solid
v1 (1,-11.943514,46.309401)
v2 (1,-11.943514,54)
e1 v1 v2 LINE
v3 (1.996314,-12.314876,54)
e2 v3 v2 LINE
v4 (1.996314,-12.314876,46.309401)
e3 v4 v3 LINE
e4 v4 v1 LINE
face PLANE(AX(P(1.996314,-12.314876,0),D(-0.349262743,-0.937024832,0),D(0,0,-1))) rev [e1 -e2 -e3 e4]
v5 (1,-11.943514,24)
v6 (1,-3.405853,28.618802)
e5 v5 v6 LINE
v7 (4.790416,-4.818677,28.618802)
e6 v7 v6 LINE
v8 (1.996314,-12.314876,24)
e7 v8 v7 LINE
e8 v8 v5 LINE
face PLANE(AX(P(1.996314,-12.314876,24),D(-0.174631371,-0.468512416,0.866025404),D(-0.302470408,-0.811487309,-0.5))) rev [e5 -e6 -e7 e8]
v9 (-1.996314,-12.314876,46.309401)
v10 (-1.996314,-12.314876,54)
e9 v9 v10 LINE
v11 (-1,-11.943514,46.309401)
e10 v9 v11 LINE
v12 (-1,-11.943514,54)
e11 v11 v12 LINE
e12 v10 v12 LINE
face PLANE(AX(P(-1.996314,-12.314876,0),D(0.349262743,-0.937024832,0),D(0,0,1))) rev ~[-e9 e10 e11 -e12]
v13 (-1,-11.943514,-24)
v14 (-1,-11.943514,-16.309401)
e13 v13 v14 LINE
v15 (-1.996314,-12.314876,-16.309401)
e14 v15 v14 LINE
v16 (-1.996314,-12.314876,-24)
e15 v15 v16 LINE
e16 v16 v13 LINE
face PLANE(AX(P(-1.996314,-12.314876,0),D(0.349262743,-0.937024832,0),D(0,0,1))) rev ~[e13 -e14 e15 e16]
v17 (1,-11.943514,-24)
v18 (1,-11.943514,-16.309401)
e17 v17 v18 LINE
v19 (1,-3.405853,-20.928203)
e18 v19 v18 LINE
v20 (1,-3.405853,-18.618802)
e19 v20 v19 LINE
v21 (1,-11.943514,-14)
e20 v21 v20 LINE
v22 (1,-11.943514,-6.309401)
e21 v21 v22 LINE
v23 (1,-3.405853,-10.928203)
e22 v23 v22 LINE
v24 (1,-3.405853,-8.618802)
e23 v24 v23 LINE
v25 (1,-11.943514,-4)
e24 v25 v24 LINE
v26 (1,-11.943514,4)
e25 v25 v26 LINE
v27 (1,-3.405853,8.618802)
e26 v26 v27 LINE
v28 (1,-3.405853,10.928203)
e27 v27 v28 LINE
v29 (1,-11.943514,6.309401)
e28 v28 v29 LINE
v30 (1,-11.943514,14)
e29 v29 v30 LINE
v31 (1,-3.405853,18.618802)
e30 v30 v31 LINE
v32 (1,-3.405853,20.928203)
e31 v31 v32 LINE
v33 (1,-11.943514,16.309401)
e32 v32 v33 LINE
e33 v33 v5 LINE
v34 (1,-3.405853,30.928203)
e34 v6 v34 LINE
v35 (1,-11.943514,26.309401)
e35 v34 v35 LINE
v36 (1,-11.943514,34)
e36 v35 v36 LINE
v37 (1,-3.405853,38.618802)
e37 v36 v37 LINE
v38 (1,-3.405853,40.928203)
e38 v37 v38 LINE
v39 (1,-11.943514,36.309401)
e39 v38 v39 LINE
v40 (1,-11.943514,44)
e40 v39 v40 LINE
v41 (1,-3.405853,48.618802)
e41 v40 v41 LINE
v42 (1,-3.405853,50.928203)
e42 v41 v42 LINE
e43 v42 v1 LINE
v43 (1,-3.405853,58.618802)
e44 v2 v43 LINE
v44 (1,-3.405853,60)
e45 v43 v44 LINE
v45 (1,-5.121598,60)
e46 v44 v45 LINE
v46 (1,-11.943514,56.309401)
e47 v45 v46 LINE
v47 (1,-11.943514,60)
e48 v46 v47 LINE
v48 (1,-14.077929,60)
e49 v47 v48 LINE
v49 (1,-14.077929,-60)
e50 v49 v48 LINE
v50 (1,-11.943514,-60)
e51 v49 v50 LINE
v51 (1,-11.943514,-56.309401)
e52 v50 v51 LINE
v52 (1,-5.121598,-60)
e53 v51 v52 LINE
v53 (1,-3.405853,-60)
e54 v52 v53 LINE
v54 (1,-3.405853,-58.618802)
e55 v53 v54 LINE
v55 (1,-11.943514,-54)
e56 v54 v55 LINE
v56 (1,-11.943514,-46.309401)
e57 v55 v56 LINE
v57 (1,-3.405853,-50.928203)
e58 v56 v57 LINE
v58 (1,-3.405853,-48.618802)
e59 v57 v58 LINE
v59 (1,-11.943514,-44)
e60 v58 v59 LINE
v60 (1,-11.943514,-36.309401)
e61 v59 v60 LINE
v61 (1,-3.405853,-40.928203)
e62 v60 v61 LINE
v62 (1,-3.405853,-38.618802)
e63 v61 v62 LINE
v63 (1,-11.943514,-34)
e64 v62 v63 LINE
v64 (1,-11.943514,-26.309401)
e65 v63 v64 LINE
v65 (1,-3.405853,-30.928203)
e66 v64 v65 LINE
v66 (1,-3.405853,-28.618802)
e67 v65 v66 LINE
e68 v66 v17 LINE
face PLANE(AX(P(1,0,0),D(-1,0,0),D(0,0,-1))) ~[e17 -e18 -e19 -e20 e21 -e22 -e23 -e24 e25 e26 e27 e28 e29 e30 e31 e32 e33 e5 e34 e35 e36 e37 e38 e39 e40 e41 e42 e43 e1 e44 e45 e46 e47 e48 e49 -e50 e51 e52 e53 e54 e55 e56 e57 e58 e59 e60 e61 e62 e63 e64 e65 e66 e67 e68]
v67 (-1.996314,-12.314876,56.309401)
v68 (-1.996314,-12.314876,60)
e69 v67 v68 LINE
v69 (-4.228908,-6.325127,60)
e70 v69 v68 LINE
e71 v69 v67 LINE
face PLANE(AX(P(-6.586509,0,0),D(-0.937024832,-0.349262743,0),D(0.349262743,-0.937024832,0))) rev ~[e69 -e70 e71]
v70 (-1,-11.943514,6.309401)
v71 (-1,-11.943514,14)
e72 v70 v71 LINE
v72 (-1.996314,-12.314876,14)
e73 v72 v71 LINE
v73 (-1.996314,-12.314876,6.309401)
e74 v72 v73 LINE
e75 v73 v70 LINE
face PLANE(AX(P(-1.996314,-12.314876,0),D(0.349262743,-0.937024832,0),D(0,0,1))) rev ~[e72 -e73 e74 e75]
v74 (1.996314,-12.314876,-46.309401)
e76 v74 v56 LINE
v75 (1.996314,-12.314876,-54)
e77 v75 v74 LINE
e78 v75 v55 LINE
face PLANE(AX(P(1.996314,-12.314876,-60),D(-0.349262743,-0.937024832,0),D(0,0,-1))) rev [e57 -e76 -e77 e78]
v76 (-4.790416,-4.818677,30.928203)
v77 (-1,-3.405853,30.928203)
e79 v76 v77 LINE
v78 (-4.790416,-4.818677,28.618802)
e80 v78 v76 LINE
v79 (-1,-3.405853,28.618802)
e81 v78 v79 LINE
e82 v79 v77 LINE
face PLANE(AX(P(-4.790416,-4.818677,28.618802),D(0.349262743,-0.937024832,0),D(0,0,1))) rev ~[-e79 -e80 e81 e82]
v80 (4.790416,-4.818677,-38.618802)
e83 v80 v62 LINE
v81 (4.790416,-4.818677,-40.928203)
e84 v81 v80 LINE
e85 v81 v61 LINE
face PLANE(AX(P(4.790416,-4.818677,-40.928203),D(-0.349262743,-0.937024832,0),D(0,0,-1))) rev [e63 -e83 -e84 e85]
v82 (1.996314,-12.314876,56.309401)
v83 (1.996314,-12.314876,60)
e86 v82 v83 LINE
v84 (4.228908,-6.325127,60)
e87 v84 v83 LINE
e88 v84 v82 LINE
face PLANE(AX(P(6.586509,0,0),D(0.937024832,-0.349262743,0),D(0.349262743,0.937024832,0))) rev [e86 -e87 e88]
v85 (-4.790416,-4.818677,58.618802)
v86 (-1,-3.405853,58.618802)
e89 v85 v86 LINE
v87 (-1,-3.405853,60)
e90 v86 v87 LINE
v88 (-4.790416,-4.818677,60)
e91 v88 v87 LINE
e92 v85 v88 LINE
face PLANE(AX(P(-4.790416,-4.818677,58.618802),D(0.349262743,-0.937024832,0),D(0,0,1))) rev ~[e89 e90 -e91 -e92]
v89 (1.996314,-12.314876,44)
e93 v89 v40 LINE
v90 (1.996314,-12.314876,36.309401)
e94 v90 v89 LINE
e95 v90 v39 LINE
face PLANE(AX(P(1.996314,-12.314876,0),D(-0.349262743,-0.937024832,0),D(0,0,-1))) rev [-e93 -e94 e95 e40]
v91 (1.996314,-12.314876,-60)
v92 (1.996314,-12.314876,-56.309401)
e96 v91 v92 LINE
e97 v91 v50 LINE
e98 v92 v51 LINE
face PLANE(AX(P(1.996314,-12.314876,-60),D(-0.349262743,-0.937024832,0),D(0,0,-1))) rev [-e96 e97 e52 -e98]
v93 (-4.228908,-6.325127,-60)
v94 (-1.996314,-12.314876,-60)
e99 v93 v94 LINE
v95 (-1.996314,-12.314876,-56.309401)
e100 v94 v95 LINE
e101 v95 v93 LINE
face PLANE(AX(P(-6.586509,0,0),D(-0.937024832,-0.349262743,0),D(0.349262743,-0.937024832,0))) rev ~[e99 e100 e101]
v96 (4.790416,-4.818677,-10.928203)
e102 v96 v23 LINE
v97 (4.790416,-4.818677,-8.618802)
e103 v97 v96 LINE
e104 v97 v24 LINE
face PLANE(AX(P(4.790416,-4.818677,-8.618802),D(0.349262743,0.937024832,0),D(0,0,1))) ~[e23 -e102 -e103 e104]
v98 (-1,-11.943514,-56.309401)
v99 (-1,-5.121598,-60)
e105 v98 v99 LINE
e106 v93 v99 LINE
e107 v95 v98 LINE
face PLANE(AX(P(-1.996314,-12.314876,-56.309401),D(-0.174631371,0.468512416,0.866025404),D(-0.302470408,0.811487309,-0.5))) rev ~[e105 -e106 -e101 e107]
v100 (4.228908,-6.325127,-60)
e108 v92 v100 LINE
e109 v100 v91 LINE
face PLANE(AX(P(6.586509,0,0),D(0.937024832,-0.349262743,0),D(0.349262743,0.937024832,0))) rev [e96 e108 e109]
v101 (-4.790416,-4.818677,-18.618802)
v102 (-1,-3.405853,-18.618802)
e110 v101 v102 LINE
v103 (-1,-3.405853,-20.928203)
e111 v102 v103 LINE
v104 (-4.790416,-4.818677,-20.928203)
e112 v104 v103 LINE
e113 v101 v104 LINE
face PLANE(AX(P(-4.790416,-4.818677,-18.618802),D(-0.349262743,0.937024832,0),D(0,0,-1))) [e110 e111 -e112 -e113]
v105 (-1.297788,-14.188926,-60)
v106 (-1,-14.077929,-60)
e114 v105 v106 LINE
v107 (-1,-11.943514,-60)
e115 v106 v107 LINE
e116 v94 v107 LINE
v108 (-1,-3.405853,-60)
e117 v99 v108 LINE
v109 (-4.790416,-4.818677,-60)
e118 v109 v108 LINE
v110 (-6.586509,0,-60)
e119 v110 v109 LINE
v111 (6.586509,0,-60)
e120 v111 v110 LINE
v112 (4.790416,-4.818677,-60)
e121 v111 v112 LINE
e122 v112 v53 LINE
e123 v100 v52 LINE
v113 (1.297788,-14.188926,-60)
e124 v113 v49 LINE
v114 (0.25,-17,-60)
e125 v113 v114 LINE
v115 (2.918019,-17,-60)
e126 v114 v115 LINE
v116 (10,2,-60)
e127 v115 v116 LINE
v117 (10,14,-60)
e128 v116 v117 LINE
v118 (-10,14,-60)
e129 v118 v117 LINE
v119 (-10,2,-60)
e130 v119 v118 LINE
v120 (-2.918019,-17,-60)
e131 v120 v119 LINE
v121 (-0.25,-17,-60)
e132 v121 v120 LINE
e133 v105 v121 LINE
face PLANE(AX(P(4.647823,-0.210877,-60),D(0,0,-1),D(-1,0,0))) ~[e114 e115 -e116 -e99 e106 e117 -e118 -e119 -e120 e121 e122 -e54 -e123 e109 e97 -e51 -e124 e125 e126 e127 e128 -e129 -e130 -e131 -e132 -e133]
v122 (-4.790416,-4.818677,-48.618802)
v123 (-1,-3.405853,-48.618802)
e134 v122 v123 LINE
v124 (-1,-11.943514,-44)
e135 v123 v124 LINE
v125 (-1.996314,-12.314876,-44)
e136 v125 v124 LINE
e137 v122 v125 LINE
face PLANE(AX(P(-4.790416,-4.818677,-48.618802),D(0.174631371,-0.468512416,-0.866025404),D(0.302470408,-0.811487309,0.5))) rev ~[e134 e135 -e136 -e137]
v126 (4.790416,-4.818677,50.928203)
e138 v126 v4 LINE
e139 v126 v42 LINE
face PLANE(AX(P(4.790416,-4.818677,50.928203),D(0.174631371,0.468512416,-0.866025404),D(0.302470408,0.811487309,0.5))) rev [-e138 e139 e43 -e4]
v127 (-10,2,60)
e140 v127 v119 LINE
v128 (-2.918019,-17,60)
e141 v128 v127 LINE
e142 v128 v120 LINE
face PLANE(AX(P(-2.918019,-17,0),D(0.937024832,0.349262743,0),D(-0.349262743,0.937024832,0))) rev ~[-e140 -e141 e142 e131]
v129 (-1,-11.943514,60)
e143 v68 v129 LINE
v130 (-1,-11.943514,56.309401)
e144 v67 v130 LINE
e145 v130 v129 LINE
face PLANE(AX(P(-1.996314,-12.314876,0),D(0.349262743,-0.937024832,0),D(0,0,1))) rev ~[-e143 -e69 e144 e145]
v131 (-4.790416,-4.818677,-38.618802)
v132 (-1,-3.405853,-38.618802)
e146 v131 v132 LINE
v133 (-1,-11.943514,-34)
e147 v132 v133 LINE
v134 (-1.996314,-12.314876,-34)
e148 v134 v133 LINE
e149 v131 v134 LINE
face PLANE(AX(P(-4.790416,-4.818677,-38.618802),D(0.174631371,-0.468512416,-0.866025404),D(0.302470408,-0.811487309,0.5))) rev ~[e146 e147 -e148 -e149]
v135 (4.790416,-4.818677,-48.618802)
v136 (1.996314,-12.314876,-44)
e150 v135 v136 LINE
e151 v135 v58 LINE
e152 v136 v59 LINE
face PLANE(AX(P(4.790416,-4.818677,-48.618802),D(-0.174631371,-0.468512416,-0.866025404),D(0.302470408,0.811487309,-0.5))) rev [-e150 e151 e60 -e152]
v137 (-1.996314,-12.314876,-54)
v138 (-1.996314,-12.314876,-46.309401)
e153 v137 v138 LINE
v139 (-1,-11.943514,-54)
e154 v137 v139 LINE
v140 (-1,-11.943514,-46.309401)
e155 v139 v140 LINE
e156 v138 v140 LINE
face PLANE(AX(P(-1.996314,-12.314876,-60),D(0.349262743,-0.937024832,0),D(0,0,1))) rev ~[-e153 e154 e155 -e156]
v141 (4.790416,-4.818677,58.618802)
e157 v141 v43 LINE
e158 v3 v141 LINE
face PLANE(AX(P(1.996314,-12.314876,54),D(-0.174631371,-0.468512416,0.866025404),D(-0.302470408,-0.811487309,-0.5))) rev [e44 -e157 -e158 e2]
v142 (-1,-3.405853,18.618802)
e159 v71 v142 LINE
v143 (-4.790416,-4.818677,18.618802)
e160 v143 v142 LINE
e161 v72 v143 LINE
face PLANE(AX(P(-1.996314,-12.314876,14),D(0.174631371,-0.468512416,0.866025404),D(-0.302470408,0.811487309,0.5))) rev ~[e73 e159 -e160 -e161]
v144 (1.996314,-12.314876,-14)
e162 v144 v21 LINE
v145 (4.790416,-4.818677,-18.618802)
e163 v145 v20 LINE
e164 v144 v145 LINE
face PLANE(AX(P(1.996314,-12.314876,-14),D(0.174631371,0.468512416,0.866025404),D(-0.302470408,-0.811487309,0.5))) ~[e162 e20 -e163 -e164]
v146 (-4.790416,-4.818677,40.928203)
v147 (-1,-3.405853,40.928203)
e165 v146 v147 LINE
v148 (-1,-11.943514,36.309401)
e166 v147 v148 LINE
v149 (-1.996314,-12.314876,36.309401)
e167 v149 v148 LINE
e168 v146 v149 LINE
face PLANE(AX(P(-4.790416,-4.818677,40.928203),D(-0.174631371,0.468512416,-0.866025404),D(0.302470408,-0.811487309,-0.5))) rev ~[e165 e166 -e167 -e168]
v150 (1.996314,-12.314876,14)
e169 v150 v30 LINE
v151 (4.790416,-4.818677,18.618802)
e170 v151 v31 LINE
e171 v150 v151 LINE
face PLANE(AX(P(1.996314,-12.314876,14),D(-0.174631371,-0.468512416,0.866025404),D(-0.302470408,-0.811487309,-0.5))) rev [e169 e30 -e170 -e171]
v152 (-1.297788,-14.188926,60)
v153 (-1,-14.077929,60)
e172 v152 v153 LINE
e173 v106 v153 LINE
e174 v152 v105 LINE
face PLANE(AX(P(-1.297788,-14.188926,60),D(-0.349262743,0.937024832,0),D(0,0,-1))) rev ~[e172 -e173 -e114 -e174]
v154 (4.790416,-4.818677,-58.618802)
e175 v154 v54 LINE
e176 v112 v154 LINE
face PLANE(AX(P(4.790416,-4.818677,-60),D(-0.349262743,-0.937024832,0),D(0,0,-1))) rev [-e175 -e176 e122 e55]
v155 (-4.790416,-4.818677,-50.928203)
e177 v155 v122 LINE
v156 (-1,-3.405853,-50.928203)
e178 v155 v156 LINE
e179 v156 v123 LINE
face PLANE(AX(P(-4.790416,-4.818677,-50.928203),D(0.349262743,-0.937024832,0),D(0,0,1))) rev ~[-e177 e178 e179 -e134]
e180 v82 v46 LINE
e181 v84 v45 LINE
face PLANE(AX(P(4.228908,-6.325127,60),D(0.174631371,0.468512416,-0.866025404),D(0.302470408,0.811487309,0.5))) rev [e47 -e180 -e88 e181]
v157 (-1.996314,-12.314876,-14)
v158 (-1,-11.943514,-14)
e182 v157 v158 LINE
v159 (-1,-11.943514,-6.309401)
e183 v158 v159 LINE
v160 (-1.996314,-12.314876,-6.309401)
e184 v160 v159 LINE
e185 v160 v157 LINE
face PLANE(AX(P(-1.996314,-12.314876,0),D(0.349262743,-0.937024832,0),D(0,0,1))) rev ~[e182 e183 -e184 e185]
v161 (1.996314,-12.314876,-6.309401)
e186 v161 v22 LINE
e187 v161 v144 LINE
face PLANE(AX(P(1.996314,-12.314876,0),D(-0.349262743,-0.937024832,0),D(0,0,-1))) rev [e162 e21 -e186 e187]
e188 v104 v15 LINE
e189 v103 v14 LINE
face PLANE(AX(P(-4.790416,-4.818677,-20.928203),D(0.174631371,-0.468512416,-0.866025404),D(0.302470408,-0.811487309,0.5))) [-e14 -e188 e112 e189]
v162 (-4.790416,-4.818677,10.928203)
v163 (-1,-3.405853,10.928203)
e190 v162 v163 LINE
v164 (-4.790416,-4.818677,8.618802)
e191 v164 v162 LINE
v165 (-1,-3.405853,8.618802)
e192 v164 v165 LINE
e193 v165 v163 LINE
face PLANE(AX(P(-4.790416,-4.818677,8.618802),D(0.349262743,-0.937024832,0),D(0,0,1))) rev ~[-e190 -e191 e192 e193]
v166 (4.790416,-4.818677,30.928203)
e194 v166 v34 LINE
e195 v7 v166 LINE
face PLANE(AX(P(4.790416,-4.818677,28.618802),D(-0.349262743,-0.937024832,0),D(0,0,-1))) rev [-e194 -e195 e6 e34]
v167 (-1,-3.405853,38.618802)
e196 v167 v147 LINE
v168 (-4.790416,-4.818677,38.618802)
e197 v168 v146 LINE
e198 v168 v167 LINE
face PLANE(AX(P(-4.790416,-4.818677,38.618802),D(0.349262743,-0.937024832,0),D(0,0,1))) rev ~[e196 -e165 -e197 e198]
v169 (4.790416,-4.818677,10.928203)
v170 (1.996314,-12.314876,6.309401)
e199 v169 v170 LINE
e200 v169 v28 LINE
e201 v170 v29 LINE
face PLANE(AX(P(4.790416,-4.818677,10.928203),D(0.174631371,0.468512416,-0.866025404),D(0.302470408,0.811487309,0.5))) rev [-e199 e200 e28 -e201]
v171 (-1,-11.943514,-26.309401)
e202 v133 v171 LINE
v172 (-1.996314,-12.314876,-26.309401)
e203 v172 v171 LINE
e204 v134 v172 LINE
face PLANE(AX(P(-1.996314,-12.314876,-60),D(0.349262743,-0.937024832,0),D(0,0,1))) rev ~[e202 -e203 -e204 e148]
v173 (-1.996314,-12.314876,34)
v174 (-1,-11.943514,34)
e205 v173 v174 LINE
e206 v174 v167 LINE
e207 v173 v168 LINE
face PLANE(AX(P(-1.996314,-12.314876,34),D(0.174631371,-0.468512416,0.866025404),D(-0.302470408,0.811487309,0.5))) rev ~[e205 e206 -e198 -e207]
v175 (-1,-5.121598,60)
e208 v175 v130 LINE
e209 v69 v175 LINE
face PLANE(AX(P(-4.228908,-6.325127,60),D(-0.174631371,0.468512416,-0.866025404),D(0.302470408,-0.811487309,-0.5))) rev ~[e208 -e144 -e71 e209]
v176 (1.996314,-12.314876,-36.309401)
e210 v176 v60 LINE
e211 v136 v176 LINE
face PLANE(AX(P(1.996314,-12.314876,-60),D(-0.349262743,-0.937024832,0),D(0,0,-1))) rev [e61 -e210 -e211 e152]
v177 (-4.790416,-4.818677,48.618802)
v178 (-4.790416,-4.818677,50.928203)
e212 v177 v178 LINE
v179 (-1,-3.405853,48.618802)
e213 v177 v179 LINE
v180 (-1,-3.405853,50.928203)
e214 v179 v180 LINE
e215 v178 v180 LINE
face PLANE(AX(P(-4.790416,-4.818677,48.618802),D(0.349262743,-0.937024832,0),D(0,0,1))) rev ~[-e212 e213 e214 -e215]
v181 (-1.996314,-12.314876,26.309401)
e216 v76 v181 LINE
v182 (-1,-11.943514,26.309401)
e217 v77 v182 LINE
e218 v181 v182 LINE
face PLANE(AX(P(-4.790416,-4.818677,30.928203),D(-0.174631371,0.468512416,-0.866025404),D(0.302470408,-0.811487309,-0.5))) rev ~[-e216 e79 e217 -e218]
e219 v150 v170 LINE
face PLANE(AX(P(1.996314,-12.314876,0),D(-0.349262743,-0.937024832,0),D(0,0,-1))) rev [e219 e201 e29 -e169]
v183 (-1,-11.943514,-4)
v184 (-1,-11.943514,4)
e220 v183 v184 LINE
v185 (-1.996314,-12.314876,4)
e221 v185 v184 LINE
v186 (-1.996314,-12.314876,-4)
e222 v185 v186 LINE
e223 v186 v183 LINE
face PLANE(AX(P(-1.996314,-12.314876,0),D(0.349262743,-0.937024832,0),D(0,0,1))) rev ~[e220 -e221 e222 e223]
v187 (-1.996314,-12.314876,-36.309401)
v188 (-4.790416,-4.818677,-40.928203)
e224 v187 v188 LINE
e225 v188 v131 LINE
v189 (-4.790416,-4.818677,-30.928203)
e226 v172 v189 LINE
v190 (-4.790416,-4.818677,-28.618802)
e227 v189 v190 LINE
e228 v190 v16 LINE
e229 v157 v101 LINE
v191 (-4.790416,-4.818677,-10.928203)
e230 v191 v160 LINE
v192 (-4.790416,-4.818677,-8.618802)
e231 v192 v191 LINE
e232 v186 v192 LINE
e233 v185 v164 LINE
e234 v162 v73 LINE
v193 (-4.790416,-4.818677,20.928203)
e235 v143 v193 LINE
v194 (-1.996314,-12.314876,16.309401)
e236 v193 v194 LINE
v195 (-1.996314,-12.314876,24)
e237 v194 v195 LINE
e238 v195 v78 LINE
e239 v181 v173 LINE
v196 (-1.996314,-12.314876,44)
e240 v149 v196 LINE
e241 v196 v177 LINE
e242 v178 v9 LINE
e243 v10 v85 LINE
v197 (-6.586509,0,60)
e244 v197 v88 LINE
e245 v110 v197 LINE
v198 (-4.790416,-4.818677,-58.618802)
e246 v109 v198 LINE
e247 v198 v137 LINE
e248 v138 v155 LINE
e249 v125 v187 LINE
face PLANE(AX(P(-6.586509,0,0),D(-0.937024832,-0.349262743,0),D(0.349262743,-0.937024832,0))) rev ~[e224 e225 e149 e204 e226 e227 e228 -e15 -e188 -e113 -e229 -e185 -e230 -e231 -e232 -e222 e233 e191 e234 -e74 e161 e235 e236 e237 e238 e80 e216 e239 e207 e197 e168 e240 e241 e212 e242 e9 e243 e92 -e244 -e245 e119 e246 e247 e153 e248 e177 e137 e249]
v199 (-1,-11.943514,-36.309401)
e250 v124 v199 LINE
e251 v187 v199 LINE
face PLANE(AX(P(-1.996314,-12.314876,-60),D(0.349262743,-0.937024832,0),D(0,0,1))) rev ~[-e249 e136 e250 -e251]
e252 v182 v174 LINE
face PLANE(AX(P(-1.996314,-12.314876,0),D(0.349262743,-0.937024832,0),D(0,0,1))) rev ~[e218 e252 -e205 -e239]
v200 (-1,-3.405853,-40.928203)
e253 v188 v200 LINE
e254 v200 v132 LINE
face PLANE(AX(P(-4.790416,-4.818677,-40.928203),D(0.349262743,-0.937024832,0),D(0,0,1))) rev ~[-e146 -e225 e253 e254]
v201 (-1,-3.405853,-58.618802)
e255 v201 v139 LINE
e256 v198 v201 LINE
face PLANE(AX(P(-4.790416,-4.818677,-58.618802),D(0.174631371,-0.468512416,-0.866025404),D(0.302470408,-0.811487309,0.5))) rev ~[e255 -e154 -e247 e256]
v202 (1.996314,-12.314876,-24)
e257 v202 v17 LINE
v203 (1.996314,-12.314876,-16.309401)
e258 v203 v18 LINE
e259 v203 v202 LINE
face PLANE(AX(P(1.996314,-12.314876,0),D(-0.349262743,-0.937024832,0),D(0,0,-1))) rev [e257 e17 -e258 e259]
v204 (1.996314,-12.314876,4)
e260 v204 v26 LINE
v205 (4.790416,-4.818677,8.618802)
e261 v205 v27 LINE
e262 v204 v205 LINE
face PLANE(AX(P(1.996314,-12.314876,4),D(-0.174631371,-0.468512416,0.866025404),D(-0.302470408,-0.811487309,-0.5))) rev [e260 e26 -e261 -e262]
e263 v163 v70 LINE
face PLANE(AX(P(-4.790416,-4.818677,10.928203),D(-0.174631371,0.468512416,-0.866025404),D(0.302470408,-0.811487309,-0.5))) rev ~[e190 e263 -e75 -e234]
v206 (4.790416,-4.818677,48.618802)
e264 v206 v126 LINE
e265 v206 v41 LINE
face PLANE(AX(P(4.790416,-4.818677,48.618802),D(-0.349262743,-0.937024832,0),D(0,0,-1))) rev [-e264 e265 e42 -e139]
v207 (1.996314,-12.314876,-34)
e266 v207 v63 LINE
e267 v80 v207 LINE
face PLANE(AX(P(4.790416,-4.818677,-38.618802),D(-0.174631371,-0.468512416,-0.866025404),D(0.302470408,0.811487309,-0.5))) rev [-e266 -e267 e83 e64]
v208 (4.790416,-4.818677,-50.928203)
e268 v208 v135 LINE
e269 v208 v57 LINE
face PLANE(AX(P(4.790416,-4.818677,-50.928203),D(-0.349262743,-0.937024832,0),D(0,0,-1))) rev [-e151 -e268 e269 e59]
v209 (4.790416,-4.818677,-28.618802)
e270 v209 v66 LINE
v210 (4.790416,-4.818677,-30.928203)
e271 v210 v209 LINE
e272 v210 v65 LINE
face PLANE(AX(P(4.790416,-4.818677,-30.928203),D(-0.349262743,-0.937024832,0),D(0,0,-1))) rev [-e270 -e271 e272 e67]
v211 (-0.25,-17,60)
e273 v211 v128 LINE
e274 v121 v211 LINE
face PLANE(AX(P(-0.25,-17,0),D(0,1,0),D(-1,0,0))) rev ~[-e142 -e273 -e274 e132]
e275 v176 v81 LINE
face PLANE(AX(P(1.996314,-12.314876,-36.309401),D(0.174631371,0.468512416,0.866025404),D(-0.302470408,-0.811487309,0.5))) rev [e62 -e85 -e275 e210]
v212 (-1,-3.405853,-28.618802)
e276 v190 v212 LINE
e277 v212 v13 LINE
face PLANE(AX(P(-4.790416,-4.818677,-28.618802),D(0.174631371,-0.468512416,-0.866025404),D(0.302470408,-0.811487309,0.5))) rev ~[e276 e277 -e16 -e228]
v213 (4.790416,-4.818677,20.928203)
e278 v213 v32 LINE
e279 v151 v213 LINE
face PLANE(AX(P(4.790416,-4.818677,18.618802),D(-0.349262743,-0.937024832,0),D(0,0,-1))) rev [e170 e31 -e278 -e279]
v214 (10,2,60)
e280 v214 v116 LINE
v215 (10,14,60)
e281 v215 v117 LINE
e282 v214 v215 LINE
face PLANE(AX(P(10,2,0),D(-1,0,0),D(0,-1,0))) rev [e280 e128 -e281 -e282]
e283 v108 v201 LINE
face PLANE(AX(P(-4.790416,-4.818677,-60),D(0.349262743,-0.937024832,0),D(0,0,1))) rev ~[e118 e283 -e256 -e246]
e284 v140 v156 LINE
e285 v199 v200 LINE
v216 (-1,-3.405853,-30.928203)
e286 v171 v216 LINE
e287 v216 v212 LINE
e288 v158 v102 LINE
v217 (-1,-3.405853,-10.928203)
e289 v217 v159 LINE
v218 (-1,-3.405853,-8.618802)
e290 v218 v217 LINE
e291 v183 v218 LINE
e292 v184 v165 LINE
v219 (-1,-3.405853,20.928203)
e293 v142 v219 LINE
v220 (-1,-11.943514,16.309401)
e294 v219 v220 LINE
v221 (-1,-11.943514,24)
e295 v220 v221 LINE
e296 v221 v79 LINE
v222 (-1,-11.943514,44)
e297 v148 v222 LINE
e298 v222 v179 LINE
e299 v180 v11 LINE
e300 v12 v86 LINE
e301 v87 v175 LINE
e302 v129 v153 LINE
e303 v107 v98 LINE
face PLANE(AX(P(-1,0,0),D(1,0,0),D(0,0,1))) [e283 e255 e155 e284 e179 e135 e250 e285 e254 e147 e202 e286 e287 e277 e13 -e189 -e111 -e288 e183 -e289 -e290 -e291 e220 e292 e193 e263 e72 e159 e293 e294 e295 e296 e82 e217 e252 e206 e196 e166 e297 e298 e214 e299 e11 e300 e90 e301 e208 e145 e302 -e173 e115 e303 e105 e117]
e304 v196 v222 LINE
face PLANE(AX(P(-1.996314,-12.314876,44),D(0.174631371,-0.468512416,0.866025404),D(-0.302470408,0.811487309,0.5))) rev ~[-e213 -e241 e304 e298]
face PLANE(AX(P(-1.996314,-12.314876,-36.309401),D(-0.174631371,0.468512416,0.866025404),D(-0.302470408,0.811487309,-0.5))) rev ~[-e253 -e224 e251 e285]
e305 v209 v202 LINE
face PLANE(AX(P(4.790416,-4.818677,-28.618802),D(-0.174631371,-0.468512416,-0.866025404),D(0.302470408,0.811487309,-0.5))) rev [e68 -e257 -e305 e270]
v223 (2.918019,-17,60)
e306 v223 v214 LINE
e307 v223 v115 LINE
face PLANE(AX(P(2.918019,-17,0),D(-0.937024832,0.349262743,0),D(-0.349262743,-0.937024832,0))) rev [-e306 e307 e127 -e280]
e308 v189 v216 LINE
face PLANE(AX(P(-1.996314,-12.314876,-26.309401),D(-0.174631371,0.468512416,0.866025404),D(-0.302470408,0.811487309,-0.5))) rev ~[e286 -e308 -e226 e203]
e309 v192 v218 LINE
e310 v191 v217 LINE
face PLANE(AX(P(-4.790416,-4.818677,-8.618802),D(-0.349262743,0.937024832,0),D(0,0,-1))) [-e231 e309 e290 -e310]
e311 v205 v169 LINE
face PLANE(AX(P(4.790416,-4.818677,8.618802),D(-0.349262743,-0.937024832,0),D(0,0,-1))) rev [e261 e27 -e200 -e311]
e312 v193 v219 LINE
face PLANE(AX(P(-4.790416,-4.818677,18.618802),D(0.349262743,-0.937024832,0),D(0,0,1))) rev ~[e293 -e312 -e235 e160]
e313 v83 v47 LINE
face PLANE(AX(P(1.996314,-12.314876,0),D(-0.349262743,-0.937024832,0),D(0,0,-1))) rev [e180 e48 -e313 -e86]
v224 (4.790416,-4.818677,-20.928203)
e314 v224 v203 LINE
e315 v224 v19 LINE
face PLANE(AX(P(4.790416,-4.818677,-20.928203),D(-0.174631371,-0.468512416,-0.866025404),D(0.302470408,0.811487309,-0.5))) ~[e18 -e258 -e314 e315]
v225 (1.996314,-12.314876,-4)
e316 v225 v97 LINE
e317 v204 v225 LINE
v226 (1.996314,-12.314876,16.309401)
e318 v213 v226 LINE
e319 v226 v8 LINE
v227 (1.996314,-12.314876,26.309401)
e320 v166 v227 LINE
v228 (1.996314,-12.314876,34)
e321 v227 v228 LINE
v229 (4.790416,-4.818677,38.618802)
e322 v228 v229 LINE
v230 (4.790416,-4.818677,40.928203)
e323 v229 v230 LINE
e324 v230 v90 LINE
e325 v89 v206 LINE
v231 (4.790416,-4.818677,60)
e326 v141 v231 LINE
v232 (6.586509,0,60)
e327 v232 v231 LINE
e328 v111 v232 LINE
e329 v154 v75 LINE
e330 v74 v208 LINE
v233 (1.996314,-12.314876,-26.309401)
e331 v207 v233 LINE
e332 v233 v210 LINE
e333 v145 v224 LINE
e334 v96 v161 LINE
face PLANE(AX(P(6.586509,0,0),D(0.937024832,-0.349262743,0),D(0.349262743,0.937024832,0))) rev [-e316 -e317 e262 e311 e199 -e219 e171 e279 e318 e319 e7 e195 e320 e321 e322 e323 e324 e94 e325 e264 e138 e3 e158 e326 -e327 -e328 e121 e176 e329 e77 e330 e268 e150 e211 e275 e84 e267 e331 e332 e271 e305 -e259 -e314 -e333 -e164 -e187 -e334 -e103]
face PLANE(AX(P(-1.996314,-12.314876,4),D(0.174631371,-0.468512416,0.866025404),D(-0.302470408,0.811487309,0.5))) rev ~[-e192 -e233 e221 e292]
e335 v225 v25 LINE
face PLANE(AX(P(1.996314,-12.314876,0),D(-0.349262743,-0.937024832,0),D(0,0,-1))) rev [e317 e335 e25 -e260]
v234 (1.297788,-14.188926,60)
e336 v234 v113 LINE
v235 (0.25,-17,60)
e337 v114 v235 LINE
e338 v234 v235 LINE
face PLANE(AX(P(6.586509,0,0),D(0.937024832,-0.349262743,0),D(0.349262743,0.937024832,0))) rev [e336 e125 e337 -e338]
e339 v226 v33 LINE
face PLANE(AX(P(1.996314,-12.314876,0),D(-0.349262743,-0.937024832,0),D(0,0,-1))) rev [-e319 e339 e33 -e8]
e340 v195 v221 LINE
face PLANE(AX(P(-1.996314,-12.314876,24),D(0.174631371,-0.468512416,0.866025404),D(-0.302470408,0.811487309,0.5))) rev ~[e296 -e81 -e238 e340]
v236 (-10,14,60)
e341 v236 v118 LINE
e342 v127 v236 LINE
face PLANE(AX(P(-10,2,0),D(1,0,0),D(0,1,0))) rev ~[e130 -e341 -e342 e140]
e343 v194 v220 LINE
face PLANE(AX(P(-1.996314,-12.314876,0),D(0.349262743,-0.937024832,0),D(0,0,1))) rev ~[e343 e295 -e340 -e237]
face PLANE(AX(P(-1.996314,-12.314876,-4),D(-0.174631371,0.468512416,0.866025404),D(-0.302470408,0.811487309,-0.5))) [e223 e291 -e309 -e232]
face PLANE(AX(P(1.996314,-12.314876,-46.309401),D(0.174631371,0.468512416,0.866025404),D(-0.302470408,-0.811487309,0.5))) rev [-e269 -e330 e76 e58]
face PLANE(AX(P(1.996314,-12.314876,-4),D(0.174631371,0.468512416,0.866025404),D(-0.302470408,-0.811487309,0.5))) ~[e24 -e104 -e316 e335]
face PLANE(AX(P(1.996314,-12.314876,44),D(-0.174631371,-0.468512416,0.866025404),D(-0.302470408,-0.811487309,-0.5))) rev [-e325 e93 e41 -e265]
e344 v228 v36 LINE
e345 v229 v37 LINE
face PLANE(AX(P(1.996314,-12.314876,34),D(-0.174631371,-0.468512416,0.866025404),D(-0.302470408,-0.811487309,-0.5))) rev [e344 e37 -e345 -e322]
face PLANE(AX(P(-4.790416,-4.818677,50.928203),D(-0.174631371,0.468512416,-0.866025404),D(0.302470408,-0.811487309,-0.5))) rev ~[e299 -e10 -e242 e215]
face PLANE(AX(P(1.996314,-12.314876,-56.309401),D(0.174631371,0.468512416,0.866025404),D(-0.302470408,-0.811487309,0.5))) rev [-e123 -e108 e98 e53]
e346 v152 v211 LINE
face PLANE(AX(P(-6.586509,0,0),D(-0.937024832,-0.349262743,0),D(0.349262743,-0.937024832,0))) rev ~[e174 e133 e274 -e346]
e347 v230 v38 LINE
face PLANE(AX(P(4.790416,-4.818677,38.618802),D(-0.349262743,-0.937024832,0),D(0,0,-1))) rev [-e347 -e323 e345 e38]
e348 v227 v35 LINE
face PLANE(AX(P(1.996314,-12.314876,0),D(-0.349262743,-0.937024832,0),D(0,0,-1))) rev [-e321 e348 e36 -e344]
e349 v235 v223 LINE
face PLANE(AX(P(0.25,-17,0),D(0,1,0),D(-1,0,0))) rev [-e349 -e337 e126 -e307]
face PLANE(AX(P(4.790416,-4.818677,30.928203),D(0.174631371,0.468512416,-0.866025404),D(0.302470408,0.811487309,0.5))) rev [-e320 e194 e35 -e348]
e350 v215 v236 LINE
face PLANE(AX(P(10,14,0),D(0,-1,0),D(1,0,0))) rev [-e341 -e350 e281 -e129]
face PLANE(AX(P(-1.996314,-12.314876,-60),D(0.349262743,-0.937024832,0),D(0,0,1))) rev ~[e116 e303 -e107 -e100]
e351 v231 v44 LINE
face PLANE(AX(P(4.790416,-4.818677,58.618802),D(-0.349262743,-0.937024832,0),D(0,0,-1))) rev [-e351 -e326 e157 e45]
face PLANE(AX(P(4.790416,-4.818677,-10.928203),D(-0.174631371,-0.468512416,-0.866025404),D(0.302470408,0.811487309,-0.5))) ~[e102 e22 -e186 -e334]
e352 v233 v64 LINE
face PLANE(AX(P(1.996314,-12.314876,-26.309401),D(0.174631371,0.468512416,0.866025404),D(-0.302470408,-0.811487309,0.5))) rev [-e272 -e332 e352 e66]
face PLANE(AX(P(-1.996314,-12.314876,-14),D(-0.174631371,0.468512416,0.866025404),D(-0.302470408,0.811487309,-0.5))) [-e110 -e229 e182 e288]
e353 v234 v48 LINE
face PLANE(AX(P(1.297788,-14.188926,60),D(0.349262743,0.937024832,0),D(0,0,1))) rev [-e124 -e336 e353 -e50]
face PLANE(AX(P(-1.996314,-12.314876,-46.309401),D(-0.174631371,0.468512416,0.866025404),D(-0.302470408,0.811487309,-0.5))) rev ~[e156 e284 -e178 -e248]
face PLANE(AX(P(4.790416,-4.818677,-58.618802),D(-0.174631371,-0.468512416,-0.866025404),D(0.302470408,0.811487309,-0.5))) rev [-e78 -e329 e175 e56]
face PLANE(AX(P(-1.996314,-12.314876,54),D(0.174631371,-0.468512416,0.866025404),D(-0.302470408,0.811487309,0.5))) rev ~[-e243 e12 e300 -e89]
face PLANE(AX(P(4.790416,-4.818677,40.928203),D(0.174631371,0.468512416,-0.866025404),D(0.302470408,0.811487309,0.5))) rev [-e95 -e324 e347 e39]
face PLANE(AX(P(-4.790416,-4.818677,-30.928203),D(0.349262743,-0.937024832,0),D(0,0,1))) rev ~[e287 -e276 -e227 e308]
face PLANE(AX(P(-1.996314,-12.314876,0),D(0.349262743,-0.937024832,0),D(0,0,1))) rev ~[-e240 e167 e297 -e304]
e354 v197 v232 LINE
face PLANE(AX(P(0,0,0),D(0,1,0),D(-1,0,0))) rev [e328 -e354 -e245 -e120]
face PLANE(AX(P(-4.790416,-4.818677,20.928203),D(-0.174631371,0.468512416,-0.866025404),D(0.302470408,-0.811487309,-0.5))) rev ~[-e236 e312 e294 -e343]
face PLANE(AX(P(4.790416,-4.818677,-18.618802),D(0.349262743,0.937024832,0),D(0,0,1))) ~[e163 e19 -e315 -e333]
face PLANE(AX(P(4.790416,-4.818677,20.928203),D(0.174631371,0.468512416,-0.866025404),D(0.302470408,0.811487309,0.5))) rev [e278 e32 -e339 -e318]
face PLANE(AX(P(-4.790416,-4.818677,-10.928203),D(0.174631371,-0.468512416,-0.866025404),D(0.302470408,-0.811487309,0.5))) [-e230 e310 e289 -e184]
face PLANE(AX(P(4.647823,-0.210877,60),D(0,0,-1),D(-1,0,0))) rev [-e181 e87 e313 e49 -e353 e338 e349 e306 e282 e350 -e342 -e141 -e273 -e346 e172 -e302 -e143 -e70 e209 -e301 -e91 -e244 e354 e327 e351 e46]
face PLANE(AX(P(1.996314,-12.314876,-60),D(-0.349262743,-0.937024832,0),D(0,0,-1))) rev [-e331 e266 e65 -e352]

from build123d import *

# Parameters (mm, degrees)
SALIENTE_EXTRUIR1_DEPTH = 60
SALIENTE_EXTRUIR2_REACH = 64.405


with BuildPart() as part:
    # Croquis1 → Saliente-Extruir1 (new, symmetric)
    with BuildSketch(Plane.XY):
        Polygon((-0.25, -17), (-2.91801894, -17), (-10, 2), (-10, 14), (0, 14), (0, 0), (-6.586509369, 0), align=None)
    saliente_extruir1 = extrude(amount=SALIENTE_EXTRUIR1_DEPTH, both=True)

    # Saliente-Extruir2: up to this plane
    saliente_extruir2_end = Plane(origin=(-1, 0, 0), z_dir=(1, 0, 0))
    # Croquis2 → Saliente-Extruir2 (add, up to the surface)
    with BuildSketch(Plane(origin=(-5.783057557, -2.155552847, 0), x_dir=(0, 0, -1), z_dir=(0.9370248323365327, 0.3492627429095367, 0)), mode=Mode.PRIVATE) as saliente_extruir2_sk1:
        Polygon((-60, -12.842106464), (0, -12.842106464), (0, -10.842106464), (-4, -10.842106464), (-6.309401077, -10.842106464), (-14, -10.842106464), (-16.309401077, -10.842106464), (-24, -10.842106464), (-26.309401077, -10.842106464), (-34, -10.842106464), (-36.309401077, -10.842106464), (-44, -10.842106464), (-46.309401077, -10.842106464), (-54, -10.842106464), (-56.309401077, -10.842106464), (-60, -10.842106464), align=None)
    saliente_extruir2_tool1 = split(extrude(saliente_extruir2_sk1.sketch, amount=SALIENTE_EXTRUIR2_REACH, mode=Mode.PRIVATE), bisect_by=saliente_extruir2_end, keep=Keep.BOTH, mode=Mode.PRIVATE)
    # Croquis2 → Saliente-Extruir2 (add, up to the surface)
    with BuildSketch(Plane(origin=(-5.783057557, -2.155552847, 0), x_dir=(0, 0, -1), z_dir=(0.9370248323365327, 0.3492627429095367, 0)), mode=Mode.PRIVATE) as saliente_extruir2_sk2:
        Polygon((-60, -4.449801619), (-56.309401077, -10.842106464), (-54, -10.842106464), (-58.618802154, -2.842106464), (-60, -2.842106464), align=None)
    saliente_extruir2_tool2 = split(extrude(saliente_extruir2_sk2.sketch, amount=SALIENTE_EXTRUIR2_REACH, mode=Mode.PRIVATE), bisect_by=saliente_extruir2_end, keep=Keep.BOTH, mode=Mode.PRIVATE)
    # Croquis2 → Saliente-Extruir2 (add, up to the surface)
    with BuildSketch(Plane(origin=(-5.783057557, -2.155552847, 0), x_dir=(0, 0, -1), z_dir=(0.9370248323365327, 0.3492627429095367, 0)), mode=Mode.PRIVATE) as saliente_extruir2_sk3:
        Polygon((-26.309401077, -10.842106464), (-24, -10.842106464), (-28.618802154, -2.842106464), (-30.92820323, -2.842106464), align=None)
    saliente_extruir2_tool3 = split(extrude(saliente_extruir2_sk3.sketch, amount=SALIENTE_EXTRUIR2_REACH, mode=Mode.PRIVATE), bisect_by=saliente_extruir2_end, keep=Keep.BOTH, mode=Mode.PRIVATE)
    # Croquis2 → Saliente-Extruir2 (add, up to the surface)
    with BuildSketch(Plane(origin=(-5.783057557, -2.155552847, 0), x_dir=(0, 0, -1), z_dir=(0.9370248323365327, 0.3492627429095367, 0)), mode=Mode.PRIVATE) as saliente_extruir2_sk4:
        Polygon((-16.309401077, -10.842106464), (-14, -10.842106464), (-18.618802154, -2.842106464), (-20.92820323, -2.842106464), align=None)
    saliente_extruir2_tool4 = split(extrude(saliente_extruir2_sk4.sketch, amount=SALIENTE_EXTRUIR2_REACH, mode=Mode.PRIVATE), bisect_by=saliente_extruir2_end, keep=Keep.BOTH, mode=Mode.PRIVATE)
    # Croquis2 → Saliente-Extruir2 (add, up to the surface)
    with BuildSketch(Plane(origin=(-5.783057557, -2.155552847, 0), x_dir=(0, 0, -1), z_dir=(0.9370248323365327, 0.3492627429095367, 0)), mode=Mode.PRIVATE) as saliente_extruir2_sk5:
        Polygon((28.618802154, -2.842106464), (24, -10.842106464), (26.309401077, -10.842106464), (30.92820323, -2.842106464), align=None)
    saliente_extruir2_tool5 = split(extrude(saliente_extruir2_sk5.sketch, amount=SALIENTE_EXTRUIR2_REACH, mode=Mode.PRIVATE), bisect_by=saliente_extruir2_end, keep=Keep.BOTH, mode=Mode.PRIVATE)
    # Croquis2 → Saliente-Extruir2 (add, up to the surface)
    with BuildSketch(Plane(origin=(-5.783057557, -2.155552847, 0), x_dir=(0, 0, -1), z_dir=(0.9370248323365327, 0.3492627429095367, 0)), mode=Mode.PRIVATE) as saliente_extruir2_sk6:
        Polygon((34, -10.842106464), (36.309401077, -10.842106464), (40.92820323, -2.842106464), (38.618802154, -2.842106464), align=None)
    saliente_extruir2_tool6 = split(extrude(saliente_extruir2_sk6.sketch, amount=SALIENTE_EXTRUIR2_REACH, mode=Mode.PRIVATE), bisect_by=saliente_extruir2_end, keep=Keep.BOTH, mode=Mode.PRIVATE)
    # Croquis2 → Saliente-Extruir2 (add, up to the surface)
    with BuildSketch(Plane(origin=(-5.783057557, -2.155552847, 0), x_dir=(0, 0, -1), z_dir=(0.9370248323365327, 0.3492627429095367, 0)), mode=Mode.PRIVATE) as saliente_extruir2_sk7:
        Polygon((44, -10.842106464), (46.309401077, -10.842106464), (50.92820323, -2.842106464), (48.618802154, -2.842106464), align=None)
    saliente_extruir2_tool7 = split(extrude(saliente_extruir2_sk7.sketch, amount=SALIENTE_EXTRUIR2_REACH, mode=Mode.PRIVATE), bisect_by=saliente_extruir2_end, keep=Keep.BOTH, mode=Mode.PRIVATE)
    # Croquis2 → Saliente-Extruir2 (add, up to the surface)
    with BuildSketch(Plane(origin=(-5.783057557, -2.155552847, 0), x_dir=(0, 0, -1), z_dir=(0.9370248323365327, 0.3492627429095367, 0)), mode=Mode.PRIVATE) as saliente_extruir2_sk8:
        Polygon((54, -10.842106464), (56.309401077, -10.842106464), (60, -4.449801619), (60, -2.842106464), (58.618802154, -2.842106464), align=None)
    saliente_extruir2_tool8 = split(extrude(saliente_extruir2_sk8.sketch, amount=SALIENTE_EXTRUIR2_REACH, mode=Mode.PRIVATE), bisect_by=saliente_extruir2_end, keep=Keep.BOTH, mode=Mode.PRIVATE)
    # Croquis2 → Saliente-Extruir2 (add, up to the surface)
    with BuildSketch(Plane(origin=(-5.783057557, -2.155552847, 0), x_dir=(0, 0, -1), z_dir=(0.9370248323365327, 0.3492627429095367, 0)), mode=Mode.PRIVATE) as saliente_extruir2_sk9:
        Polygon((0, -12.842106464), (60, -12.842106464), (60, -10.842106464), (56.309401077, -10.842106464), (54, -10.842106464), (46.309401077, -10.842106464), (44, -10.842106464), (36.309401077, -10.842106464), (34, -10.842106464), (26.309401077, -10.842106464), (24, -10.842106464), (16.309401077, -10.842106464), (14, -10.842106464), (6.309401077, -10.842106464), (4, -10.842106464), (0, -10.842106464), align=None)
    saliente_extruir2_tool9 = split(extrude(saliente_extruir2_sk9.sketch, amount=SALIENTE_EXTRUIR2_REACH, mode=Mode.PRIVATE), bisect_by=saliente_extruir2_end, keep=Keep.BOTH, mode=Mode.PRIVATE)
    # Croquis2 → Saliente-Extruir2 (add, up to the surface)
    with BuildSketch(Plane(origin=(-5.783057557, -2.155552847, 0), x_dir=(0, 0, -1), z_dir=(0.9370248323365327, 0.3492627429095367, 0)), mode=Mode.PRIVATE) as saliente_extruir2_sk10:
        Polygon((-44, -10.842106464), (-48.618802154, -2.842106464), (-50.92820323, -2.842106464), (-46.309401077, -10.842106464), align=None)
    saliente_extruir2_tool10 = split(extrude(saliente_extruir2_sk10.sketch, amount=SALIENTE_EXTRUIR2_REACH, mode=Mode.PRIVATE), bisect_by=saliente_extruir2_end, keep=Keep.BOTH, mode=Mode.PRIVATE)
    # Croquis2 → Saliente-Extruir2 (add, up to the surface)
    with BuildSketch(Plane(origin=(-5.783057557, -2.155552847, 0), x_dir=(0, 0, -1), z_dir=(0.9370248323365327, 0.3492627429095367, 0)), mode=Mode.PRIVATE) as saliente_extruir2_sk11:
        Polygon((-34, -10.842106464), (-38.618802154, -2.842106464), (-40.92820323, -2.842106464), (-36.309401077, -10.842106464), align=None)
    saliente_extruir2_tool11 = split(extrude(saliente_extruir2_sk11.sketch, amount=SALIENTE_EXTRUIR2_REACH, mode=Mode.PRIVATE), bisect_by=saliente_extruir2_end, keep=Keep.BOTH, mode=Mode.PRIVATE)
    # Croquis2 → Saliente-Extruir2 (add, up to the surface)
    with BuildSketch(Plane(origin=(-5.783057557, -2.155552847, 0), x_dir=(0, 0, -1), z_dir=(0.9370248323365327, 0.3492627429095367, 0)), mode=Mode.PRIVATE) as saliente_extruir2_sk12:
        Polygon((-10.92820323, -2.842106464), (-6.309401077, -10.842106464), (-4, -10.842106464), (-8.618802154, -2.842106464), align=None)
    saliente_extruir2_tool12 = split(extrude(saliente_extruir2_sk12.sketch, amount=SALIENTE_EXTRUIR2_REACH, mode=Mode.PRIVATE), bisect_by=saliente_extruir2_end, keep=Keep.BOTH, mode=Mode.PRIVATE)
    # Croquis2 → Saliente-Extruir2 (add, up to the surface)
    with BuildSketch(Plane(origin=(-5.783057557, -2.155552847, 0), x_dir=(0, 0, -1), z_dir=(0.9370248323365327, 0.3492627429095367, 0)), mode=Mode.PRIVATE) as saliente_extruir2_sk13:
        Polygon((4, -10.842106464), (8.618802154, -2.842106464), (10.92820323, -2.842106464), (6.309401077, -10.842106464), align=None)
    saliente_extruir2_tool13 = split(extrude(saliente_extruir2_sk13.sketch, amount=SALIENTE_EXTRUIR2_REACH, mode=Mode.PRIVATE), bisect_by=saliente_extruir2_end, keep=Keep.BOTH, mode=Mode.PRIVATE)
    # Croquis2 → Saliente-Extruir2 (add, up to the surface)
    with BuildSketch(Plane(origin=(-5.783057557, -2.155552847, 0), x_dir=(0, 0, -1), z_dir=(0.9370248323365327, 0.3492627429095367, 0)), mode=Mode.PRIVATE) as saliente_extruir2_sk14:
        Polygon((14, -10.842106464), (18.618802154, -2.842106464), (20.92820323, -2.842106464), (16.309401077, -10.842106464), align=None)
    saliente_extruir2_tool14 = split(extrude(saliente_extruir2_sk14.sketch, amount=SALIENTE_EXTRUIR2_REACH, mode=Mode.PRIVATE), bisect_by=saliente_extruir2_end, keep=Keep.BOTH, mode=Mode.PRIVATE)
    saliente_extruir2 = saliente_extruir2_tool1.solids().sort_by_distance((-1.647051, -13.251901, 30))[0] + saliente_extruir2_tool2.solids().sort_by_distance((-3.342446, -8.703383, 57.344356))[0] + saliente_extruir2_tool3.solids().sort_by_distance((-3.393365, -8.566777, 27.464102))[0] + saliente_extruir2_tool4.solids().sort_by_distance((-3.393365, -8.566777, 17.464102))[0] + saliente_extruir2_tool5.solids().sort_by_distance((-3.393365, -8.566777, -27.464102))[0] + saliente_extruir2_tool6.solids().sort_by_distance((-3.393365, -8.566777, -37.464102))[0] + saliente_extruir2_tool7.solids().sort_by_distance((-3.393365, -8.566777, -47.464102))[0] + saliente_extruir2_tool8.solids().sort_by_distance((-3.342446, -8.703383, -57.344356))[0] + saliente_extruir2_tool9.solids().sort_by_distance((-1.647051, -13.251901, -30))[0] + saliente_extruir2_tool10.solids().sort_by_distance((-3.393365, -8.566777, 47.464102))[0] + saliente_extruir2_tool11.solids().sort_by_distance((-3.393365, -8.566777, 37.464102))[0] + saliente_extruir2_tool12.solids().sort_by_distance((-3.393365, -8.566777, 7.464102))[0] + saliente_extruir2_tool13.solids().sort_by_distance((-3.393365, -8.566777, -7.464102))[0] + saliente_extruir2_tool14.solids().sort_by_distance((-3.393365, -8.566777, -17.464102))[0]
    add(saliente_extruir2)

    # Simetría1: Saliente-Extruir1, Saliente-Extruir2 across plane
    add(saliente_extruir1.mirror(Plane(origin=(0, 0, 0), x_dir=(0, 0, 1), z_dir=(1, 0, 0))))
    add(saliente_extruir2.mirror(Plane(origin=(0, 0, 0), x_dir=(0, 0, 1), z_dir=(1, 0, 0))))


solid = part.part
